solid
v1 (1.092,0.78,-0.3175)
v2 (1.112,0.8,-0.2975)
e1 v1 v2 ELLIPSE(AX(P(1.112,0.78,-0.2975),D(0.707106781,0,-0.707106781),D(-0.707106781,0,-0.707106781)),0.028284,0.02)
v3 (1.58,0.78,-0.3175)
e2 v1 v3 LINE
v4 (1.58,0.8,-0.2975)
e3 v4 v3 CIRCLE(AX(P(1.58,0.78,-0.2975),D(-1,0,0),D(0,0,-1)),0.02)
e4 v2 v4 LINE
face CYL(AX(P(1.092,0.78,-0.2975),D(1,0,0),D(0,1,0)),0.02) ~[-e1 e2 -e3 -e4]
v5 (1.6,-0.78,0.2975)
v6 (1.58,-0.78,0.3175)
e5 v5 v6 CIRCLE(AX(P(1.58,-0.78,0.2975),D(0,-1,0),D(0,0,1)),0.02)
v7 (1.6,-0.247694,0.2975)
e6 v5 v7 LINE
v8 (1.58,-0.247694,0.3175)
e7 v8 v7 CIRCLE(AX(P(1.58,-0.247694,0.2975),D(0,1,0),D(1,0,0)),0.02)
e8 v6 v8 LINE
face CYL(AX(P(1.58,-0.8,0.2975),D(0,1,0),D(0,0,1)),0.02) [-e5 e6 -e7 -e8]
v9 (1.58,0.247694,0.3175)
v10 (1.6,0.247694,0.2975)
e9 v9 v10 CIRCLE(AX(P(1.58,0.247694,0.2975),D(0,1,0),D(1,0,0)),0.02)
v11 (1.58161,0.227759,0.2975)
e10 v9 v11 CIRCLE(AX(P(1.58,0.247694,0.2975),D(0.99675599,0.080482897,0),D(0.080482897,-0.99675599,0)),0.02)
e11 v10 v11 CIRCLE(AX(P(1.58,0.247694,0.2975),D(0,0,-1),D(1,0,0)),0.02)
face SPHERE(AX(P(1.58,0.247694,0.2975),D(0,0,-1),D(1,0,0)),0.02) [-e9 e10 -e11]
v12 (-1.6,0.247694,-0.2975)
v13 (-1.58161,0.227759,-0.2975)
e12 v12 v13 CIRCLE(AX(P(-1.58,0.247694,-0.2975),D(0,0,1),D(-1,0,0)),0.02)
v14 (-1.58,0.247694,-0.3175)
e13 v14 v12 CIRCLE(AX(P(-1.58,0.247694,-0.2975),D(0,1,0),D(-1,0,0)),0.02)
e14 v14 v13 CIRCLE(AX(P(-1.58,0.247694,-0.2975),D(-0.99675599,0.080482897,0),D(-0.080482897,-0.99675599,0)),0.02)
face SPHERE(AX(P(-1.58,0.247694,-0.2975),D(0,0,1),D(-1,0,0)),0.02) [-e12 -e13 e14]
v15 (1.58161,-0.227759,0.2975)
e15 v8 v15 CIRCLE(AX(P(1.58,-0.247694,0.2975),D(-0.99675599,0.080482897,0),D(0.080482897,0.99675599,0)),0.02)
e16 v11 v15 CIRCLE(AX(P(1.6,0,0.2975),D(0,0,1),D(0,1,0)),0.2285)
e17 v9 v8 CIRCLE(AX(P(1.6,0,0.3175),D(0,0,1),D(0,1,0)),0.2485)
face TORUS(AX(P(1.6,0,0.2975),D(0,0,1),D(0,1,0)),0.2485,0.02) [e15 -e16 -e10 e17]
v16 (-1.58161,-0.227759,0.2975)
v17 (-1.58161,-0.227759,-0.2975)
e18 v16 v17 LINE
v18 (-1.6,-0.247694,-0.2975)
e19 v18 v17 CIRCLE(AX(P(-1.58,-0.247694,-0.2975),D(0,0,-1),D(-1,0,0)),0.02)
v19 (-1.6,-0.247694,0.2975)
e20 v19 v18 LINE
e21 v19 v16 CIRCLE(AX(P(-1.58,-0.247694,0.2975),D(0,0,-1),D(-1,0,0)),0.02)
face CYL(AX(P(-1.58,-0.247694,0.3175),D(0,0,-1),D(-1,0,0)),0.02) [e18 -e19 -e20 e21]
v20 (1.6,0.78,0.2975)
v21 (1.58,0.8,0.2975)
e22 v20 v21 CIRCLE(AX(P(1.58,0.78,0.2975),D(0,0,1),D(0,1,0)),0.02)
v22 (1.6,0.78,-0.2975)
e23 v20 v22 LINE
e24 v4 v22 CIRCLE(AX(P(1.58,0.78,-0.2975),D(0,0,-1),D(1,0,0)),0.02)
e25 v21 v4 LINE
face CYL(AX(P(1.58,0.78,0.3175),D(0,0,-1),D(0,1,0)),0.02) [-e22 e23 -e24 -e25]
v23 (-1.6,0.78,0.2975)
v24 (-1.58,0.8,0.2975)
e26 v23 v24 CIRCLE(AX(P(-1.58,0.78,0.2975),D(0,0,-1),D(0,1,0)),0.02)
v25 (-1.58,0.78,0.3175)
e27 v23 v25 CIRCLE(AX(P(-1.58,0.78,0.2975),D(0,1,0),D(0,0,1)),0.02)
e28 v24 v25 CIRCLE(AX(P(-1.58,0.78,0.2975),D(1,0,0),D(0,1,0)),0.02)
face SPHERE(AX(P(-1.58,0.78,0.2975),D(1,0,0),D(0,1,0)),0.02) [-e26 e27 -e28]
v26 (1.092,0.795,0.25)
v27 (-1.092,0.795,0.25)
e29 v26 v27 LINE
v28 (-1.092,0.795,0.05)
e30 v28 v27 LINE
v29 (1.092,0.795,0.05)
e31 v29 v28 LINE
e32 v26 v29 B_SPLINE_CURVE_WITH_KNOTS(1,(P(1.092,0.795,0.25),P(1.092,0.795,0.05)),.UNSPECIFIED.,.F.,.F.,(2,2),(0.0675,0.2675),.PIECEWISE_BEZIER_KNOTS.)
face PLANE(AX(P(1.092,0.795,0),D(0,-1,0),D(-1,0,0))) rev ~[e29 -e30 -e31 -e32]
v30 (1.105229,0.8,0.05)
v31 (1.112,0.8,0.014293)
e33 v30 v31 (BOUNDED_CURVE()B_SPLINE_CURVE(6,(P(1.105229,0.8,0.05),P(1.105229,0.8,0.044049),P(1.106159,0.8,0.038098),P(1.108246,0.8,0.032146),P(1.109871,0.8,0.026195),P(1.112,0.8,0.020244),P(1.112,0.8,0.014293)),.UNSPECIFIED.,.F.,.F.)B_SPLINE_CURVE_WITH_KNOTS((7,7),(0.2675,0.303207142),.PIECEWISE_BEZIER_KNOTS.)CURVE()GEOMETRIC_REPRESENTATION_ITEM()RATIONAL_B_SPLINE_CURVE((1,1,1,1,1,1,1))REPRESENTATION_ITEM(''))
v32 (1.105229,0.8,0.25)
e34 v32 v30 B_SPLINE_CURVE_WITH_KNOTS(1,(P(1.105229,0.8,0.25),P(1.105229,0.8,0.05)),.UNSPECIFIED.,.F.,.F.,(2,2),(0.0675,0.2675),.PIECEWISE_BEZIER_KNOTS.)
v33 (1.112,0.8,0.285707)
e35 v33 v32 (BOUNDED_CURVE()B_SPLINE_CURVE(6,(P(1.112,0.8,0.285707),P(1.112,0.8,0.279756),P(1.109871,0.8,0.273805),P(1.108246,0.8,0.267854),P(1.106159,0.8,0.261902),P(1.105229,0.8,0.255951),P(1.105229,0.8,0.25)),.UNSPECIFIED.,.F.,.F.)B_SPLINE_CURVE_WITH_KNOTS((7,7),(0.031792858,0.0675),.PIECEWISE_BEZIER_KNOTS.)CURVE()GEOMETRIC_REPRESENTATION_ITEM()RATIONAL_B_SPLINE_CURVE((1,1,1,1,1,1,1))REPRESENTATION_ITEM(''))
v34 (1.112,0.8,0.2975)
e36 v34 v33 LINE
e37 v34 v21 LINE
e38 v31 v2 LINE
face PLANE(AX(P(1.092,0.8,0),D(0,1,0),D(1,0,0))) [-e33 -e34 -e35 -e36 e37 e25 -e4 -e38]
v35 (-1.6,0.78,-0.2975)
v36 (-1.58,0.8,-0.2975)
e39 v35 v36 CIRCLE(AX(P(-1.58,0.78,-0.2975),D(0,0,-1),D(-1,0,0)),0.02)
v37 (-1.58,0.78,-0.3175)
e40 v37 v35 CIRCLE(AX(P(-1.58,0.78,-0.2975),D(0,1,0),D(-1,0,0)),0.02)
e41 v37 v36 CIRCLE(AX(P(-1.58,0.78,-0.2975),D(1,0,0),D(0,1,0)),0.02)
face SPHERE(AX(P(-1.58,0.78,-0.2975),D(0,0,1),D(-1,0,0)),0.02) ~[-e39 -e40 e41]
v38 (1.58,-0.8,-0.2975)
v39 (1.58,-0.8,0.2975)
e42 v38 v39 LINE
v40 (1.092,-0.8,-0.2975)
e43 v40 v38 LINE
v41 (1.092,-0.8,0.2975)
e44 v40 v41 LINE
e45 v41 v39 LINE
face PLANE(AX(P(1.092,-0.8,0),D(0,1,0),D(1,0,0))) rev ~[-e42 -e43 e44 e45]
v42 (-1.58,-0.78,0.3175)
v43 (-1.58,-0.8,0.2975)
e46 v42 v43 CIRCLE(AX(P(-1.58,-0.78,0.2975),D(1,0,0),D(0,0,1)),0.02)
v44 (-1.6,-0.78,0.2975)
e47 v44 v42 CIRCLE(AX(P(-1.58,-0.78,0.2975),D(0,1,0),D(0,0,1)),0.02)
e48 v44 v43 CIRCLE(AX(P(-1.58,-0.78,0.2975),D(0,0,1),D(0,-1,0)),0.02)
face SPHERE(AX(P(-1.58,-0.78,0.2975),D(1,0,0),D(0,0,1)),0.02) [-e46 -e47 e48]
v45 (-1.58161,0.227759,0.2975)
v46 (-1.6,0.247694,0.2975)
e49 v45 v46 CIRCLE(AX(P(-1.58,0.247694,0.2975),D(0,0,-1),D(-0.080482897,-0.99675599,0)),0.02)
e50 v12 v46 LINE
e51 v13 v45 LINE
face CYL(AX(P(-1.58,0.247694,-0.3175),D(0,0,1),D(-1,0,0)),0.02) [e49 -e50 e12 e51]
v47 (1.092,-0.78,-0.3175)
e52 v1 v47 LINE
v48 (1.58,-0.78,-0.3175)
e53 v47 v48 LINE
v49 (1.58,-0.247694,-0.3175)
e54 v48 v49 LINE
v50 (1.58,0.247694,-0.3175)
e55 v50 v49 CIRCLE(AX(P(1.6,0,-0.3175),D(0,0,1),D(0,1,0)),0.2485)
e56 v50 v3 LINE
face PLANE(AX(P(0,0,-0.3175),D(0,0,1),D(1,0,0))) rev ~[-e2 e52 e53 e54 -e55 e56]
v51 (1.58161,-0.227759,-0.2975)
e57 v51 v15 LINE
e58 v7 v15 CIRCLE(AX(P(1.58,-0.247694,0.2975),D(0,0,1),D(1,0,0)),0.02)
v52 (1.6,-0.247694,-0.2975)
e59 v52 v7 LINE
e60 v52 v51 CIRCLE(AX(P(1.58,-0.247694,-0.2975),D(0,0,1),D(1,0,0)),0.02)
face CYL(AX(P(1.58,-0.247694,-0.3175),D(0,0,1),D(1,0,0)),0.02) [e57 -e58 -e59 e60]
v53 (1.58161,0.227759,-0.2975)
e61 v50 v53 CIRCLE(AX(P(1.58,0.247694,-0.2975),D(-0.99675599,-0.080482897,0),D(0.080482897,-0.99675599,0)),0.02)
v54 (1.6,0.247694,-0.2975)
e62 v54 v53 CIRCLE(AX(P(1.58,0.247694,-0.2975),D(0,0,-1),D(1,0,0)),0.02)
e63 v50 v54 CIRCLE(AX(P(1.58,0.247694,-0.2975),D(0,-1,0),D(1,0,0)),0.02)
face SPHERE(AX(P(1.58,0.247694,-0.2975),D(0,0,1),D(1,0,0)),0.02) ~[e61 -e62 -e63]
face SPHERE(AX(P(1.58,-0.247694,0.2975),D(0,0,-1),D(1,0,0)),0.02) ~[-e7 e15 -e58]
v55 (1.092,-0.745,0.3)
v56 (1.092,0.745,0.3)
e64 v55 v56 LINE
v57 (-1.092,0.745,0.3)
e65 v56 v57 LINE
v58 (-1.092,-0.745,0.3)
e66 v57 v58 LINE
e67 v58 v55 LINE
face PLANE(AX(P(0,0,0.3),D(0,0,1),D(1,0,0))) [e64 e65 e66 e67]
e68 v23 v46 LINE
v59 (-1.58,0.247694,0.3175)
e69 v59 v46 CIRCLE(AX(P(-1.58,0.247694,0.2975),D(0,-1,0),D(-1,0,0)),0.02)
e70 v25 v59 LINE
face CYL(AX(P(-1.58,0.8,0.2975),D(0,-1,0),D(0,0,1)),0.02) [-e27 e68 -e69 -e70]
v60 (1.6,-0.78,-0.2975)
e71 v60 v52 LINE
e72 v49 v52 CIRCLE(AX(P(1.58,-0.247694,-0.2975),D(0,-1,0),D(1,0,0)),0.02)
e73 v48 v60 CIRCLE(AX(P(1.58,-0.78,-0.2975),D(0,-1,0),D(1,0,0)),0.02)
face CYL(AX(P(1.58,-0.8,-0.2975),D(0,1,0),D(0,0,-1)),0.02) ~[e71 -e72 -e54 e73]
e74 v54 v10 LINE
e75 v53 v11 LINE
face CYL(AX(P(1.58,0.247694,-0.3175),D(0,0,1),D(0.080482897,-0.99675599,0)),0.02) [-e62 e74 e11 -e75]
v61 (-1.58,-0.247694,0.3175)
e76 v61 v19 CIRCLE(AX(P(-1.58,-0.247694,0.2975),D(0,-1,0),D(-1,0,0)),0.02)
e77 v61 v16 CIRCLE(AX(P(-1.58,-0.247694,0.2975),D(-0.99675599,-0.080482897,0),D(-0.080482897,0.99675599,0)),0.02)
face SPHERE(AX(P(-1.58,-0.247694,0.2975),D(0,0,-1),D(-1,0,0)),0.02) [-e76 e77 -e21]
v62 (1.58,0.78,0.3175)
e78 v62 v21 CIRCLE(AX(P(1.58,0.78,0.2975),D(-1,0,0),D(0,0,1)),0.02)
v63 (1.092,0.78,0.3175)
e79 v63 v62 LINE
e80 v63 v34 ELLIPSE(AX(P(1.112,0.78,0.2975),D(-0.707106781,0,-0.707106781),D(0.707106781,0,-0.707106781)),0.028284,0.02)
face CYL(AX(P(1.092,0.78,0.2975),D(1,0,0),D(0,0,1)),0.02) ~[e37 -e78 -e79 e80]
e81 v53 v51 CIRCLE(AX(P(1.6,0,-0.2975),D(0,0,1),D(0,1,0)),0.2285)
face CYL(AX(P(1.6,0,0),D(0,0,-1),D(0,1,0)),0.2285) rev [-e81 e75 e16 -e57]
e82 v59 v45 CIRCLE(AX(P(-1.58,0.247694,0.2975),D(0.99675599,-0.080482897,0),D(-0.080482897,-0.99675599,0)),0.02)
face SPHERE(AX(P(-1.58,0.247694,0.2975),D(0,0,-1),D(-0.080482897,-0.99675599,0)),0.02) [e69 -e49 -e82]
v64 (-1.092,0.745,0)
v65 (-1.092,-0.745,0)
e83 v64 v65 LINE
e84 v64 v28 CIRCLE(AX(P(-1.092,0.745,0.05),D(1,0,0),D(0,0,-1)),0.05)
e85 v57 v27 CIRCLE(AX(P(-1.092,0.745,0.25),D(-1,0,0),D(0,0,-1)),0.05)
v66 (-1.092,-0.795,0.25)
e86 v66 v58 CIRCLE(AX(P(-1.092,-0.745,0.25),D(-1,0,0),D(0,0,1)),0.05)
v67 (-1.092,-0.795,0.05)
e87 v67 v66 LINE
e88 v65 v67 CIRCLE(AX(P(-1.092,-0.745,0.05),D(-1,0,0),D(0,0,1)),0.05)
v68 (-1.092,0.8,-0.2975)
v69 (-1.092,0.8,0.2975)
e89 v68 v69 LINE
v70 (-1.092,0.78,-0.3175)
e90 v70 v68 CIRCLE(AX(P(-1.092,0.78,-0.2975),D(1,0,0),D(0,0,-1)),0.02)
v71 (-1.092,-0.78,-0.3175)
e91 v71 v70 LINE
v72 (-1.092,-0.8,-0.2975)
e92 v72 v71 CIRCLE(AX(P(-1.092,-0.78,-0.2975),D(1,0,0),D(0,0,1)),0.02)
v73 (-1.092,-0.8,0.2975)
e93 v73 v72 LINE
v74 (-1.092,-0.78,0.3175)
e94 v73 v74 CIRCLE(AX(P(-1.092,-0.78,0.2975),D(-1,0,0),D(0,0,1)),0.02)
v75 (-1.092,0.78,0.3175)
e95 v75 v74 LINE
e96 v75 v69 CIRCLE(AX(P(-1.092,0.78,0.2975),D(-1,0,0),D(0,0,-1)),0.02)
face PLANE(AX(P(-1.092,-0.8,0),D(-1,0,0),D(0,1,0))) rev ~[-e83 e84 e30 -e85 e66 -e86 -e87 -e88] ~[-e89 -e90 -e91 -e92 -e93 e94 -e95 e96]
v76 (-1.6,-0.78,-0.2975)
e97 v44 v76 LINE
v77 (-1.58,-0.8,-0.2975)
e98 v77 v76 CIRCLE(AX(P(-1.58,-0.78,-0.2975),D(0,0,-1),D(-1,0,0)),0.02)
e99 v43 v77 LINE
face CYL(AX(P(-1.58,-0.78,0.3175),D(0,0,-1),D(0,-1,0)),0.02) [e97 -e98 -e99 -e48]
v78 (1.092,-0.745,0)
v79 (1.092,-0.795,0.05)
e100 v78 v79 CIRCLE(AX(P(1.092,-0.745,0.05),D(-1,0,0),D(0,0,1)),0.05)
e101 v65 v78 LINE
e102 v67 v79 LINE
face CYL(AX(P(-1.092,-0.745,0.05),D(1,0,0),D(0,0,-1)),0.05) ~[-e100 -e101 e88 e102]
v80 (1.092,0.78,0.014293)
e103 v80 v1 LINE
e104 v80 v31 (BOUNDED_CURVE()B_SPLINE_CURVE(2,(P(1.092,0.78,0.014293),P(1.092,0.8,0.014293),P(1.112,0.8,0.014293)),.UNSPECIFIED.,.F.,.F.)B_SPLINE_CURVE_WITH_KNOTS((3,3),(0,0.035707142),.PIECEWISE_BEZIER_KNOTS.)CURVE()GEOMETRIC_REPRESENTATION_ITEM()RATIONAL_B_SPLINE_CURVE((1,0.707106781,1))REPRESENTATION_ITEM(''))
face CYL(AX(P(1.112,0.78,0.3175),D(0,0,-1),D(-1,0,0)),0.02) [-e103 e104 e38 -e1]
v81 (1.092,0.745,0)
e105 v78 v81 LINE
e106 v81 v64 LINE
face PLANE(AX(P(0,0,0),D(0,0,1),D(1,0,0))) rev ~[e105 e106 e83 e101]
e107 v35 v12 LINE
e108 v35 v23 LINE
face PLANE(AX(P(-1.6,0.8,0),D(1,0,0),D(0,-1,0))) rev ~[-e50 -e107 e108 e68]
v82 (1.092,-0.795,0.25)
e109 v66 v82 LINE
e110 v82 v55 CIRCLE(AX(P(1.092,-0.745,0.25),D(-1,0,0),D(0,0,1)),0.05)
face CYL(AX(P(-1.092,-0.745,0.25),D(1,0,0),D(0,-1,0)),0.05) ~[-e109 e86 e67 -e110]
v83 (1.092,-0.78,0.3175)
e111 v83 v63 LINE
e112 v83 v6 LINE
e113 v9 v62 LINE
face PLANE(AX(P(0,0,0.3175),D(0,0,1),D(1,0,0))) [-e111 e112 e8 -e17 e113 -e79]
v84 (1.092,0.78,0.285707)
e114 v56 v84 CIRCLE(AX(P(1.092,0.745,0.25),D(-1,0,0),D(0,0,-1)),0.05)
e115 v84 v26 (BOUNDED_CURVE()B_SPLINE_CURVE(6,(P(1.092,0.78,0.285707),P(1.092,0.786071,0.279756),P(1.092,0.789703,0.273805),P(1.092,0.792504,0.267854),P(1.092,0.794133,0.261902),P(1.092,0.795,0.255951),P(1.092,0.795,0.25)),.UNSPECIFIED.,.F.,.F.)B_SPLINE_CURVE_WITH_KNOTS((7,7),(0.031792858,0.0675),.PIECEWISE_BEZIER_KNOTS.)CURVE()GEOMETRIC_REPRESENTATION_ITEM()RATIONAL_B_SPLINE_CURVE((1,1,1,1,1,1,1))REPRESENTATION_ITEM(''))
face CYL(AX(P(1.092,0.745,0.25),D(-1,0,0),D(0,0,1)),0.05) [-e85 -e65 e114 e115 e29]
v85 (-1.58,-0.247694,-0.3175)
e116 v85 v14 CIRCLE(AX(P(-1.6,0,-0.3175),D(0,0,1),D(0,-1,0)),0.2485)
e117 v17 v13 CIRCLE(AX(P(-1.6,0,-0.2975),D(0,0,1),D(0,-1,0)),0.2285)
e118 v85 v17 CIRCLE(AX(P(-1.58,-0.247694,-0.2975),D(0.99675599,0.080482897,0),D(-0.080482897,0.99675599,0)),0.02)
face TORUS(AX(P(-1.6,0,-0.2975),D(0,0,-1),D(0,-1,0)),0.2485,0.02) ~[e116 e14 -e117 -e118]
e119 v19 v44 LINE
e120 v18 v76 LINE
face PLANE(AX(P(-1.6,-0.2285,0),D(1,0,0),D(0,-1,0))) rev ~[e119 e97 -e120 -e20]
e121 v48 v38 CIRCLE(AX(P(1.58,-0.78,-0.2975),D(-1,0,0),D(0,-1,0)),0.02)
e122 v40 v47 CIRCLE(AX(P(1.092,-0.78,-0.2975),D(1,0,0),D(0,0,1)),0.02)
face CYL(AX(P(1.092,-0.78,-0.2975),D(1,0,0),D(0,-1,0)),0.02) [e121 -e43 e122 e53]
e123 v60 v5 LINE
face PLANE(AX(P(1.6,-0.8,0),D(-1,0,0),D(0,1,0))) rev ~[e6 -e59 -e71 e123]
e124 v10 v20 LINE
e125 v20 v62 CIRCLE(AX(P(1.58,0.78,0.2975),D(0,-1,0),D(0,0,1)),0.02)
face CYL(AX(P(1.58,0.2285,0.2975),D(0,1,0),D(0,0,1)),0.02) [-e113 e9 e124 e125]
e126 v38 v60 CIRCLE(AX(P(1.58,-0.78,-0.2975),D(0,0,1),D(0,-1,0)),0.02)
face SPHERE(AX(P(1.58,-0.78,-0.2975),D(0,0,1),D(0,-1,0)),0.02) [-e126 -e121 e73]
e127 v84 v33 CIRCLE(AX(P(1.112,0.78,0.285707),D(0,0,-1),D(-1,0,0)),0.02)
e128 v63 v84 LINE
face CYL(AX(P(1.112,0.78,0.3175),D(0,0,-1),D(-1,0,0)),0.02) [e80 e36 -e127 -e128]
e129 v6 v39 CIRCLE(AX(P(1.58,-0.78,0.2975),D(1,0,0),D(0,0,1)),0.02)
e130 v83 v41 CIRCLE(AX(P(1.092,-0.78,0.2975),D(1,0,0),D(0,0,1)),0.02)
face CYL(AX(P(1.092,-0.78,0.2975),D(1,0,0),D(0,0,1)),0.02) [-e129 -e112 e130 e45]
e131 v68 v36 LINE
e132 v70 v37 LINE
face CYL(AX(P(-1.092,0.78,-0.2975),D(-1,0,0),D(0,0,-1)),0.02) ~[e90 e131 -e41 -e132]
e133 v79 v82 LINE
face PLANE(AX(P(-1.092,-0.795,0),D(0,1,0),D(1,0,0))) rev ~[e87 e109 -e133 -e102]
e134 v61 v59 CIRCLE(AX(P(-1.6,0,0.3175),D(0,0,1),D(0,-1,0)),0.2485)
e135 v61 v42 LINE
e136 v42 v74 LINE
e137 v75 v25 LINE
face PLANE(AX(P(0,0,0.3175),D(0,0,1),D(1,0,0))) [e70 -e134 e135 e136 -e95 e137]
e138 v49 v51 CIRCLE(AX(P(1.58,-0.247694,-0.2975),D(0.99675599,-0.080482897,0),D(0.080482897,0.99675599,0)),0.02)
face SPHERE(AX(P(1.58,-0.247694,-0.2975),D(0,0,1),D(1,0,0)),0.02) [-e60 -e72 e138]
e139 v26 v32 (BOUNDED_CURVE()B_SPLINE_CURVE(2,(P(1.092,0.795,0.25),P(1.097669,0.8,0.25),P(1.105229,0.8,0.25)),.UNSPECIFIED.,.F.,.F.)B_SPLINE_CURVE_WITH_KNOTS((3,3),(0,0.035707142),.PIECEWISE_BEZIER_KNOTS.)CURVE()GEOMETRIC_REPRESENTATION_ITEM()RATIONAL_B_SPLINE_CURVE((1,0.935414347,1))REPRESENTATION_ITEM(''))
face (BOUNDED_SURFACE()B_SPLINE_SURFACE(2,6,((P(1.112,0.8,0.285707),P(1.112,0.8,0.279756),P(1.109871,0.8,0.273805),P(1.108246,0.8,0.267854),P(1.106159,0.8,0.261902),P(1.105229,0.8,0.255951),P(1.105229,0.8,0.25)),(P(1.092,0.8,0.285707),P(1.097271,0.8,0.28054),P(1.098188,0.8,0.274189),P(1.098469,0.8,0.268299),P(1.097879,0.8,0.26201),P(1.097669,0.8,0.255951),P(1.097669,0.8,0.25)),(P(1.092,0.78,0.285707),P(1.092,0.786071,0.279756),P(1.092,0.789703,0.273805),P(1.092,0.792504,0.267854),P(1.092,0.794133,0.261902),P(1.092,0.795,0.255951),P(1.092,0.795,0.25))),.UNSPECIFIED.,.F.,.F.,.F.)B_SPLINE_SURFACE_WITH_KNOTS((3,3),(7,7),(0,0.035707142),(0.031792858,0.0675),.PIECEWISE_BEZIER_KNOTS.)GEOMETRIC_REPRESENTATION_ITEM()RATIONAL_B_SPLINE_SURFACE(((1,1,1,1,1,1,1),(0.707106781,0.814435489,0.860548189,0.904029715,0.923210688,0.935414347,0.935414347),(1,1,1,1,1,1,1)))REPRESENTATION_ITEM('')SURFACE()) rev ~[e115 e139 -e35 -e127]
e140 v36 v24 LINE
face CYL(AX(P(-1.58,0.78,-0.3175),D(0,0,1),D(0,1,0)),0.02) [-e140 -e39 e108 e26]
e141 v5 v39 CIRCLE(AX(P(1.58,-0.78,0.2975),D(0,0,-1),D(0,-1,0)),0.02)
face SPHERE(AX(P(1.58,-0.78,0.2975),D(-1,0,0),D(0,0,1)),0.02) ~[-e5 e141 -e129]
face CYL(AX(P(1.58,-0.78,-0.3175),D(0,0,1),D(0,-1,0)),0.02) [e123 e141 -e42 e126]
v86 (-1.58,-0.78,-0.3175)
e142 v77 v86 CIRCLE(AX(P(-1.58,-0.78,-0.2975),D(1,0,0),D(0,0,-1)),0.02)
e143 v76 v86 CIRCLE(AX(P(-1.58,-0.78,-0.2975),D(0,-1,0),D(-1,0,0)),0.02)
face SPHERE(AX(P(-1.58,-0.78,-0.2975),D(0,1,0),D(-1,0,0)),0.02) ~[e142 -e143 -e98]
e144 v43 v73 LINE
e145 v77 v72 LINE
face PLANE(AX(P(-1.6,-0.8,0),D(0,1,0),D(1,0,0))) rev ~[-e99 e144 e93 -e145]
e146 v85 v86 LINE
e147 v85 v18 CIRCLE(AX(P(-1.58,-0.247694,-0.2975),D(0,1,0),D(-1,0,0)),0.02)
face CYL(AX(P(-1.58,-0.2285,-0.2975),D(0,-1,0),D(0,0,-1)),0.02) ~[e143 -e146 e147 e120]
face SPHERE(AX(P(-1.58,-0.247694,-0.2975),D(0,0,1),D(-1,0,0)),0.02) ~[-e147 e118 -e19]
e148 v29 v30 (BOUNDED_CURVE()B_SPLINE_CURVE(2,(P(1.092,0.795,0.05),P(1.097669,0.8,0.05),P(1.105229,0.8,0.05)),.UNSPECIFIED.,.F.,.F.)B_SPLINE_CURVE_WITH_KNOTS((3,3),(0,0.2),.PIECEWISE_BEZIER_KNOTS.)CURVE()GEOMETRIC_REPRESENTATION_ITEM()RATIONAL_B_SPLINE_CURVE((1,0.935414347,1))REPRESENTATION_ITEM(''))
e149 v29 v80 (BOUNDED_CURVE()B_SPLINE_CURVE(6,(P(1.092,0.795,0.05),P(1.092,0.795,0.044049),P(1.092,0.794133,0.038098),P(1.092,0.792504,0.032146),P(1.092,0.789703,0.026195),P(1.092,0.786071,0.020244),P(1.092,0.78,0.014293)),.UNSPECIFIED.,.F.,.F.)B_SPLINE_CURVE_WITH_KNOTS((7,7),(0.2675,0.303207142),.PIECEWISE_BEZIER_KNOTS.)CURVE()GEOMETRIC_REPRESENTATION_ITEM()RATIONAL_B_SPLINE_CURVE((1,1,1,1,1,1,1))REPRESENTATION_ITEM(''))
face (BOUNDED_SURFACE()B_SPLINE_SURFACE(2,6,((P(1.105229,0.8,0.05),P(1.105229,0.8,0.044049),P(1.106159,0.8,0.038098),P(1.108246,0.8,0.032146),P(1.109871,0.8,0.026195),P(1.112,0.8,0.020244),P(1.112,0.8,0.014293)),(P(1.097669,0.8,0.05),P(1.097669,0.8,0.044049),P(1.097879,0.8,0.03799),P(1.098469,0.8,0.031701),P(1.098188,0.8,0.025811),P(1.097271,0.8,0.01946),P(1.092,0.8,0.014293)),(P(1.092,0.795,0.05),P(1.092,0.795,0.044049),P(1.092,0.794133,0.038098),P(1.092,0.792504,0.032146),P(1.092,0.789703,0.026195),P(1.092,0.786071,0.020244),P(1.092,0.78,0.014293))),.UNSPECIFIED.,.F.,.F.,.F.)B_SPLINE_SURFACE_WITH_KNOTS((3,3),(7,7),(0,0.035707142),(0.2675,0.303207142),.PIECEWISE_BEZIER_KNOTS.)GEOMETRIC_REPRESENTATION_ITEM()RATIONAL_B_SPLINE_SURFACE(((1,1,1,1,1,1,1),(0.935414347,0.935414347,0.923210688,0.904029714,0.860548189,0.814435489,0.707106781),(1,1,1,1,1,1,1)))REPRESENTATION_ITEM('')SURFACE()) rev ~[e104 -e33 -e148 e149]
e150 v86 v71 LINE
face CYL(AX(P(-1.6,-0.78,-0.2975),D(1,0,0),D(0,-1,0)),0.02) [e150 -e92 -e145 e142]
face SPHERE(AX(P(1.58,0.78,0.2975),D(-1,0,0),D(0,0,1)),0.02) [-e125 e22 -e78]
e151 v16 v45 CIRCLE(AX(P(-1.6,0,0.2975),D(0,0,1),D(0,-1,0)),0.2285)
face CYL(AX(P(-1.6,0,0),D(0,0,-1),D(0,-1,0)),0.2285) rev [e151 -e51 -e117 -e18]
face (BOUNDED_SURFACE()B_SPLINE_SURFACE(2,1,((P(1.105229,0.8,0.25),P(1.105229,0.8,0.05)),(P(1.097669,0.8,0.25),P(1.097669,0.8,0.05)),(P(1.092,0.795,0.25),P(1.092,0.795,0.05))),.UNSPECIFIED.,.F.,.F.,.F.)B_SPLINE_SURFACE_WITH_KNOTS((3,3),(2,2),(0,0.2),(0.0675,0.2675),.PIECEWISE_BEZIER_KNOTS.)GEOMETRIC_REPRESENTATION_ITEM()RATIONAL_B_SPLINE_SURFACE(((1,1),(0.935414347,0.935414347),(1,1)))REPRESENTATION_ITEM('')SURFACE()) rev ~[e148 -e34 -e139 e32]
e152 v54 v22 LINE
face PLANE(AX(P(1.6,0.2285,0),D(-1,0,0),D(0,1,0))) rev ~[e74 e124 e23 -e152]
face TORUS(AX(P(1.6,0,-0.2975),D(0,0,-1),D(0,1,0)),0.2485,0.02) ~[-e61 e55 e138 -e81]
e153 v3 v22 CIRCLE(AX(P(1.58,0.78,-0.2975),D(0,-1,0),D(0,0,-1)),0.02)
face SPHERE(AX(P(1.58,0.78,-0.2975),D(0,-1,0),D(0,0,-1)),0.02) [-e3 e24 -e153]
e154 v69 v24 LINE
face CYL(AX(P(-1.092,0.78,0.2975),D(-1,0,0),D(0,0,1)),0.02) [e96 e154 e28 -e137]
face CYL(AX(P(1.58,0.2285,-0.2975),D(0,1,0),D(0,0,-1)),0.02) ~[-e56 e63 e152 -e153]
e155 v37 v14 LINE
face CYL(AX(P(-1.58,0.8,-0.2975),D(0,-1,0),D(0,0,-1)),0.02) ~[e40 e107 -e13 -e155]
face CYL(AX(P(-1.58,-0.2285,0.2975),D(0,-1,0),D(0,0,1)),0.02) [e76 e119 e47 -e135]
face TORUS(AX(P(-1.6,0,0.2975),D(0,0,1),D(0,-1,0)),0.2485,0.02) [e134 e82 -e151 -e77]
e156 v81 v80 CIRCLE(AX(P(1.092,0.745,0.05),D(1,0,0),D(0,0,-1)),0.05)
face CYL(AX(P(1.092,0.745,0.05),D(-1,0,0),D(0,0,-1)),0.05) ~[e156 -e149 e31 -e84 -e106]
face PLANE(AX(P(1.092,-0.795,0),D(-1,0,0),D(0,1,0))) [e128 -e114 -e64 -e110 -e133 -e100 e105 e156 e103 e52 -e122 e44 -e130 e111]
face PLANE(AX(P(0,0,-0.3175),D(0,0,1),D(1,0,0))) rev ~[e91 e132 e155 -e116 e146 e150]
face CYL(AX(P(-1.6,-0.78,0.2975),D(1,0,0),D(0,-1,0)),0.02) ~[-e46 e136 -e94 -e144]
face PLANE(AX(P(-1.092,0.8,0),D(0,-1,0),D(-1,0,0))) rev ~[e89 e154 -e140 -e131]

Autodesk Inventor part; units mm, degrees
ref_plane "YZ Plane" through (0, 0, 0) normal (1, 0, 0) x (0, 1, 0)
ref_plane "XZ Plane" through (0, 0, 0) normal (0, 1, 0) x (-1, 0, 0)
ref_plane "XY Plane" through (0, 0, 0) normal (0, 0, 1) x (1, 0, 0)
sketch "Sketch1" plane through (0, 0, 0) normal (0, 0, 1) x (1, 0, 0)
  line L0 (-1.092, -0.795) -> (1.092, -0.795)
  line L1 (1.092, -0.795) -> (1.092, 0.795)
  line L2 (1.092, 0.795) -> (-1.092, 0.795)
  line L3 (-1.092, 0.795) -> (-1.092, -0.795)
  line L4 (-1.092, -0.795) -> (1.092, 0.795) construction
  line L5 (1.092, -0.795) -> (-1.092, 0.795) construction
  line L6 (-1.092, 0.795) -> (-1.092, 0.8)
  line L7 (-1.092, 0.8) -> (-1.6, 0.8)
  line L8 (-1.6, 0.8) -> (-1.6, 0.2285)
  arc A0 (-1.6, -0.2285) -> (-1.6, 0.2285) centre (-1.6, 0) ccw
  line L9 (-1.6, -0.2285) -> (-1.6, -0.8)
  line L10 (-1.6, -0.8) -> (-1.092, -0.8)
  line L11 (-1.092, -0.8) -> (-1.092, -0.795)
  line L12 (1.092, -0.795) -> (1.092, -0.8)
  line L13 (1.092, -0.8) -> (1.6, -0.8)
  line L14 (1.6, -0.8) -> (1.6, -0.2285)
  arc A1 (1.6, 0.2285) -> (1.6, -0.2285) centre (1.6, 0) ccw
  line L15 (1.6, 0.2285) -> (1.6, 0.8)
  line L16 (1.092, 0.8) -> (1.6, 0.8)
  line L17 (1.092, 0.8) -> (1.092, 0.795)
  point P0 (0, 0)
  dimension "d0" = 3.2
  dimension "d1" = 1.6
  dimension "d2" = 1.59
  dimension "d3" = 0.508
  dimension "d4" = 0.457
extrude "Extrusion1" add sketch "Sketch1" along normal blind 0.3 contours L3 L2 L1 L0
extrude "Extrusion2" add sketch "Sketch1" along normal mid plane 0.635 contours L11 L10 L9 A0 L8 L7 L6 L3 | L1 L17 L16 L15 A1 L14 L13 L12
fillet "Fillet1" radius 0.05 4 edges at (0, -0.795, 0.3) (0, -0.795, 0) (0, 0.795, 0.3) (0, 0.795, 0)
fillet "Fillet2" radius 0.02 29 edges at (-1.346, 0.8, 0.3175) (-1.6, 0.8, 0) (-1.6, 0.5142, 0.3175) (-1.6, 0.2285, 0) (-1.6, 0.5142, -0.3175) (-1.346, 0.8, -0.3175) (-1.346, -0.8, 0.3175) (-1.6, -0.5143, 0.3175) (-1.3715, 0, 0.3175) (-1.3715, 0, -0.3175) (-1.6, -0.2285, 0) (-1.6, -0.5143, -0.3175) (-1.6, -0.8, 0) (-1.346, -0.8, -0.3175) (1.346, -0.8, 0.3175) (1.6, -0.5143, 0.3175) (1.6, -0.8, 0) (1.346, -0.8, -0.3175) (1.092, 0.8, 0) (1.346, 0.8, 0.3175) (1.6, 0.5142, 0.3175) (1.3715, 0, 0.3175) (1.6, -0.2285, 0) (1.6, -0.5143, -0.3175) (1.3715, 0, -0.3175) (1.6, 0.2285, 0) (1.6, 0.5142, -0.3175) (1.346, 0.8, -0.3175) (1.6, 0.8, 0)
properties part number "23-12m0" material "Copper"
